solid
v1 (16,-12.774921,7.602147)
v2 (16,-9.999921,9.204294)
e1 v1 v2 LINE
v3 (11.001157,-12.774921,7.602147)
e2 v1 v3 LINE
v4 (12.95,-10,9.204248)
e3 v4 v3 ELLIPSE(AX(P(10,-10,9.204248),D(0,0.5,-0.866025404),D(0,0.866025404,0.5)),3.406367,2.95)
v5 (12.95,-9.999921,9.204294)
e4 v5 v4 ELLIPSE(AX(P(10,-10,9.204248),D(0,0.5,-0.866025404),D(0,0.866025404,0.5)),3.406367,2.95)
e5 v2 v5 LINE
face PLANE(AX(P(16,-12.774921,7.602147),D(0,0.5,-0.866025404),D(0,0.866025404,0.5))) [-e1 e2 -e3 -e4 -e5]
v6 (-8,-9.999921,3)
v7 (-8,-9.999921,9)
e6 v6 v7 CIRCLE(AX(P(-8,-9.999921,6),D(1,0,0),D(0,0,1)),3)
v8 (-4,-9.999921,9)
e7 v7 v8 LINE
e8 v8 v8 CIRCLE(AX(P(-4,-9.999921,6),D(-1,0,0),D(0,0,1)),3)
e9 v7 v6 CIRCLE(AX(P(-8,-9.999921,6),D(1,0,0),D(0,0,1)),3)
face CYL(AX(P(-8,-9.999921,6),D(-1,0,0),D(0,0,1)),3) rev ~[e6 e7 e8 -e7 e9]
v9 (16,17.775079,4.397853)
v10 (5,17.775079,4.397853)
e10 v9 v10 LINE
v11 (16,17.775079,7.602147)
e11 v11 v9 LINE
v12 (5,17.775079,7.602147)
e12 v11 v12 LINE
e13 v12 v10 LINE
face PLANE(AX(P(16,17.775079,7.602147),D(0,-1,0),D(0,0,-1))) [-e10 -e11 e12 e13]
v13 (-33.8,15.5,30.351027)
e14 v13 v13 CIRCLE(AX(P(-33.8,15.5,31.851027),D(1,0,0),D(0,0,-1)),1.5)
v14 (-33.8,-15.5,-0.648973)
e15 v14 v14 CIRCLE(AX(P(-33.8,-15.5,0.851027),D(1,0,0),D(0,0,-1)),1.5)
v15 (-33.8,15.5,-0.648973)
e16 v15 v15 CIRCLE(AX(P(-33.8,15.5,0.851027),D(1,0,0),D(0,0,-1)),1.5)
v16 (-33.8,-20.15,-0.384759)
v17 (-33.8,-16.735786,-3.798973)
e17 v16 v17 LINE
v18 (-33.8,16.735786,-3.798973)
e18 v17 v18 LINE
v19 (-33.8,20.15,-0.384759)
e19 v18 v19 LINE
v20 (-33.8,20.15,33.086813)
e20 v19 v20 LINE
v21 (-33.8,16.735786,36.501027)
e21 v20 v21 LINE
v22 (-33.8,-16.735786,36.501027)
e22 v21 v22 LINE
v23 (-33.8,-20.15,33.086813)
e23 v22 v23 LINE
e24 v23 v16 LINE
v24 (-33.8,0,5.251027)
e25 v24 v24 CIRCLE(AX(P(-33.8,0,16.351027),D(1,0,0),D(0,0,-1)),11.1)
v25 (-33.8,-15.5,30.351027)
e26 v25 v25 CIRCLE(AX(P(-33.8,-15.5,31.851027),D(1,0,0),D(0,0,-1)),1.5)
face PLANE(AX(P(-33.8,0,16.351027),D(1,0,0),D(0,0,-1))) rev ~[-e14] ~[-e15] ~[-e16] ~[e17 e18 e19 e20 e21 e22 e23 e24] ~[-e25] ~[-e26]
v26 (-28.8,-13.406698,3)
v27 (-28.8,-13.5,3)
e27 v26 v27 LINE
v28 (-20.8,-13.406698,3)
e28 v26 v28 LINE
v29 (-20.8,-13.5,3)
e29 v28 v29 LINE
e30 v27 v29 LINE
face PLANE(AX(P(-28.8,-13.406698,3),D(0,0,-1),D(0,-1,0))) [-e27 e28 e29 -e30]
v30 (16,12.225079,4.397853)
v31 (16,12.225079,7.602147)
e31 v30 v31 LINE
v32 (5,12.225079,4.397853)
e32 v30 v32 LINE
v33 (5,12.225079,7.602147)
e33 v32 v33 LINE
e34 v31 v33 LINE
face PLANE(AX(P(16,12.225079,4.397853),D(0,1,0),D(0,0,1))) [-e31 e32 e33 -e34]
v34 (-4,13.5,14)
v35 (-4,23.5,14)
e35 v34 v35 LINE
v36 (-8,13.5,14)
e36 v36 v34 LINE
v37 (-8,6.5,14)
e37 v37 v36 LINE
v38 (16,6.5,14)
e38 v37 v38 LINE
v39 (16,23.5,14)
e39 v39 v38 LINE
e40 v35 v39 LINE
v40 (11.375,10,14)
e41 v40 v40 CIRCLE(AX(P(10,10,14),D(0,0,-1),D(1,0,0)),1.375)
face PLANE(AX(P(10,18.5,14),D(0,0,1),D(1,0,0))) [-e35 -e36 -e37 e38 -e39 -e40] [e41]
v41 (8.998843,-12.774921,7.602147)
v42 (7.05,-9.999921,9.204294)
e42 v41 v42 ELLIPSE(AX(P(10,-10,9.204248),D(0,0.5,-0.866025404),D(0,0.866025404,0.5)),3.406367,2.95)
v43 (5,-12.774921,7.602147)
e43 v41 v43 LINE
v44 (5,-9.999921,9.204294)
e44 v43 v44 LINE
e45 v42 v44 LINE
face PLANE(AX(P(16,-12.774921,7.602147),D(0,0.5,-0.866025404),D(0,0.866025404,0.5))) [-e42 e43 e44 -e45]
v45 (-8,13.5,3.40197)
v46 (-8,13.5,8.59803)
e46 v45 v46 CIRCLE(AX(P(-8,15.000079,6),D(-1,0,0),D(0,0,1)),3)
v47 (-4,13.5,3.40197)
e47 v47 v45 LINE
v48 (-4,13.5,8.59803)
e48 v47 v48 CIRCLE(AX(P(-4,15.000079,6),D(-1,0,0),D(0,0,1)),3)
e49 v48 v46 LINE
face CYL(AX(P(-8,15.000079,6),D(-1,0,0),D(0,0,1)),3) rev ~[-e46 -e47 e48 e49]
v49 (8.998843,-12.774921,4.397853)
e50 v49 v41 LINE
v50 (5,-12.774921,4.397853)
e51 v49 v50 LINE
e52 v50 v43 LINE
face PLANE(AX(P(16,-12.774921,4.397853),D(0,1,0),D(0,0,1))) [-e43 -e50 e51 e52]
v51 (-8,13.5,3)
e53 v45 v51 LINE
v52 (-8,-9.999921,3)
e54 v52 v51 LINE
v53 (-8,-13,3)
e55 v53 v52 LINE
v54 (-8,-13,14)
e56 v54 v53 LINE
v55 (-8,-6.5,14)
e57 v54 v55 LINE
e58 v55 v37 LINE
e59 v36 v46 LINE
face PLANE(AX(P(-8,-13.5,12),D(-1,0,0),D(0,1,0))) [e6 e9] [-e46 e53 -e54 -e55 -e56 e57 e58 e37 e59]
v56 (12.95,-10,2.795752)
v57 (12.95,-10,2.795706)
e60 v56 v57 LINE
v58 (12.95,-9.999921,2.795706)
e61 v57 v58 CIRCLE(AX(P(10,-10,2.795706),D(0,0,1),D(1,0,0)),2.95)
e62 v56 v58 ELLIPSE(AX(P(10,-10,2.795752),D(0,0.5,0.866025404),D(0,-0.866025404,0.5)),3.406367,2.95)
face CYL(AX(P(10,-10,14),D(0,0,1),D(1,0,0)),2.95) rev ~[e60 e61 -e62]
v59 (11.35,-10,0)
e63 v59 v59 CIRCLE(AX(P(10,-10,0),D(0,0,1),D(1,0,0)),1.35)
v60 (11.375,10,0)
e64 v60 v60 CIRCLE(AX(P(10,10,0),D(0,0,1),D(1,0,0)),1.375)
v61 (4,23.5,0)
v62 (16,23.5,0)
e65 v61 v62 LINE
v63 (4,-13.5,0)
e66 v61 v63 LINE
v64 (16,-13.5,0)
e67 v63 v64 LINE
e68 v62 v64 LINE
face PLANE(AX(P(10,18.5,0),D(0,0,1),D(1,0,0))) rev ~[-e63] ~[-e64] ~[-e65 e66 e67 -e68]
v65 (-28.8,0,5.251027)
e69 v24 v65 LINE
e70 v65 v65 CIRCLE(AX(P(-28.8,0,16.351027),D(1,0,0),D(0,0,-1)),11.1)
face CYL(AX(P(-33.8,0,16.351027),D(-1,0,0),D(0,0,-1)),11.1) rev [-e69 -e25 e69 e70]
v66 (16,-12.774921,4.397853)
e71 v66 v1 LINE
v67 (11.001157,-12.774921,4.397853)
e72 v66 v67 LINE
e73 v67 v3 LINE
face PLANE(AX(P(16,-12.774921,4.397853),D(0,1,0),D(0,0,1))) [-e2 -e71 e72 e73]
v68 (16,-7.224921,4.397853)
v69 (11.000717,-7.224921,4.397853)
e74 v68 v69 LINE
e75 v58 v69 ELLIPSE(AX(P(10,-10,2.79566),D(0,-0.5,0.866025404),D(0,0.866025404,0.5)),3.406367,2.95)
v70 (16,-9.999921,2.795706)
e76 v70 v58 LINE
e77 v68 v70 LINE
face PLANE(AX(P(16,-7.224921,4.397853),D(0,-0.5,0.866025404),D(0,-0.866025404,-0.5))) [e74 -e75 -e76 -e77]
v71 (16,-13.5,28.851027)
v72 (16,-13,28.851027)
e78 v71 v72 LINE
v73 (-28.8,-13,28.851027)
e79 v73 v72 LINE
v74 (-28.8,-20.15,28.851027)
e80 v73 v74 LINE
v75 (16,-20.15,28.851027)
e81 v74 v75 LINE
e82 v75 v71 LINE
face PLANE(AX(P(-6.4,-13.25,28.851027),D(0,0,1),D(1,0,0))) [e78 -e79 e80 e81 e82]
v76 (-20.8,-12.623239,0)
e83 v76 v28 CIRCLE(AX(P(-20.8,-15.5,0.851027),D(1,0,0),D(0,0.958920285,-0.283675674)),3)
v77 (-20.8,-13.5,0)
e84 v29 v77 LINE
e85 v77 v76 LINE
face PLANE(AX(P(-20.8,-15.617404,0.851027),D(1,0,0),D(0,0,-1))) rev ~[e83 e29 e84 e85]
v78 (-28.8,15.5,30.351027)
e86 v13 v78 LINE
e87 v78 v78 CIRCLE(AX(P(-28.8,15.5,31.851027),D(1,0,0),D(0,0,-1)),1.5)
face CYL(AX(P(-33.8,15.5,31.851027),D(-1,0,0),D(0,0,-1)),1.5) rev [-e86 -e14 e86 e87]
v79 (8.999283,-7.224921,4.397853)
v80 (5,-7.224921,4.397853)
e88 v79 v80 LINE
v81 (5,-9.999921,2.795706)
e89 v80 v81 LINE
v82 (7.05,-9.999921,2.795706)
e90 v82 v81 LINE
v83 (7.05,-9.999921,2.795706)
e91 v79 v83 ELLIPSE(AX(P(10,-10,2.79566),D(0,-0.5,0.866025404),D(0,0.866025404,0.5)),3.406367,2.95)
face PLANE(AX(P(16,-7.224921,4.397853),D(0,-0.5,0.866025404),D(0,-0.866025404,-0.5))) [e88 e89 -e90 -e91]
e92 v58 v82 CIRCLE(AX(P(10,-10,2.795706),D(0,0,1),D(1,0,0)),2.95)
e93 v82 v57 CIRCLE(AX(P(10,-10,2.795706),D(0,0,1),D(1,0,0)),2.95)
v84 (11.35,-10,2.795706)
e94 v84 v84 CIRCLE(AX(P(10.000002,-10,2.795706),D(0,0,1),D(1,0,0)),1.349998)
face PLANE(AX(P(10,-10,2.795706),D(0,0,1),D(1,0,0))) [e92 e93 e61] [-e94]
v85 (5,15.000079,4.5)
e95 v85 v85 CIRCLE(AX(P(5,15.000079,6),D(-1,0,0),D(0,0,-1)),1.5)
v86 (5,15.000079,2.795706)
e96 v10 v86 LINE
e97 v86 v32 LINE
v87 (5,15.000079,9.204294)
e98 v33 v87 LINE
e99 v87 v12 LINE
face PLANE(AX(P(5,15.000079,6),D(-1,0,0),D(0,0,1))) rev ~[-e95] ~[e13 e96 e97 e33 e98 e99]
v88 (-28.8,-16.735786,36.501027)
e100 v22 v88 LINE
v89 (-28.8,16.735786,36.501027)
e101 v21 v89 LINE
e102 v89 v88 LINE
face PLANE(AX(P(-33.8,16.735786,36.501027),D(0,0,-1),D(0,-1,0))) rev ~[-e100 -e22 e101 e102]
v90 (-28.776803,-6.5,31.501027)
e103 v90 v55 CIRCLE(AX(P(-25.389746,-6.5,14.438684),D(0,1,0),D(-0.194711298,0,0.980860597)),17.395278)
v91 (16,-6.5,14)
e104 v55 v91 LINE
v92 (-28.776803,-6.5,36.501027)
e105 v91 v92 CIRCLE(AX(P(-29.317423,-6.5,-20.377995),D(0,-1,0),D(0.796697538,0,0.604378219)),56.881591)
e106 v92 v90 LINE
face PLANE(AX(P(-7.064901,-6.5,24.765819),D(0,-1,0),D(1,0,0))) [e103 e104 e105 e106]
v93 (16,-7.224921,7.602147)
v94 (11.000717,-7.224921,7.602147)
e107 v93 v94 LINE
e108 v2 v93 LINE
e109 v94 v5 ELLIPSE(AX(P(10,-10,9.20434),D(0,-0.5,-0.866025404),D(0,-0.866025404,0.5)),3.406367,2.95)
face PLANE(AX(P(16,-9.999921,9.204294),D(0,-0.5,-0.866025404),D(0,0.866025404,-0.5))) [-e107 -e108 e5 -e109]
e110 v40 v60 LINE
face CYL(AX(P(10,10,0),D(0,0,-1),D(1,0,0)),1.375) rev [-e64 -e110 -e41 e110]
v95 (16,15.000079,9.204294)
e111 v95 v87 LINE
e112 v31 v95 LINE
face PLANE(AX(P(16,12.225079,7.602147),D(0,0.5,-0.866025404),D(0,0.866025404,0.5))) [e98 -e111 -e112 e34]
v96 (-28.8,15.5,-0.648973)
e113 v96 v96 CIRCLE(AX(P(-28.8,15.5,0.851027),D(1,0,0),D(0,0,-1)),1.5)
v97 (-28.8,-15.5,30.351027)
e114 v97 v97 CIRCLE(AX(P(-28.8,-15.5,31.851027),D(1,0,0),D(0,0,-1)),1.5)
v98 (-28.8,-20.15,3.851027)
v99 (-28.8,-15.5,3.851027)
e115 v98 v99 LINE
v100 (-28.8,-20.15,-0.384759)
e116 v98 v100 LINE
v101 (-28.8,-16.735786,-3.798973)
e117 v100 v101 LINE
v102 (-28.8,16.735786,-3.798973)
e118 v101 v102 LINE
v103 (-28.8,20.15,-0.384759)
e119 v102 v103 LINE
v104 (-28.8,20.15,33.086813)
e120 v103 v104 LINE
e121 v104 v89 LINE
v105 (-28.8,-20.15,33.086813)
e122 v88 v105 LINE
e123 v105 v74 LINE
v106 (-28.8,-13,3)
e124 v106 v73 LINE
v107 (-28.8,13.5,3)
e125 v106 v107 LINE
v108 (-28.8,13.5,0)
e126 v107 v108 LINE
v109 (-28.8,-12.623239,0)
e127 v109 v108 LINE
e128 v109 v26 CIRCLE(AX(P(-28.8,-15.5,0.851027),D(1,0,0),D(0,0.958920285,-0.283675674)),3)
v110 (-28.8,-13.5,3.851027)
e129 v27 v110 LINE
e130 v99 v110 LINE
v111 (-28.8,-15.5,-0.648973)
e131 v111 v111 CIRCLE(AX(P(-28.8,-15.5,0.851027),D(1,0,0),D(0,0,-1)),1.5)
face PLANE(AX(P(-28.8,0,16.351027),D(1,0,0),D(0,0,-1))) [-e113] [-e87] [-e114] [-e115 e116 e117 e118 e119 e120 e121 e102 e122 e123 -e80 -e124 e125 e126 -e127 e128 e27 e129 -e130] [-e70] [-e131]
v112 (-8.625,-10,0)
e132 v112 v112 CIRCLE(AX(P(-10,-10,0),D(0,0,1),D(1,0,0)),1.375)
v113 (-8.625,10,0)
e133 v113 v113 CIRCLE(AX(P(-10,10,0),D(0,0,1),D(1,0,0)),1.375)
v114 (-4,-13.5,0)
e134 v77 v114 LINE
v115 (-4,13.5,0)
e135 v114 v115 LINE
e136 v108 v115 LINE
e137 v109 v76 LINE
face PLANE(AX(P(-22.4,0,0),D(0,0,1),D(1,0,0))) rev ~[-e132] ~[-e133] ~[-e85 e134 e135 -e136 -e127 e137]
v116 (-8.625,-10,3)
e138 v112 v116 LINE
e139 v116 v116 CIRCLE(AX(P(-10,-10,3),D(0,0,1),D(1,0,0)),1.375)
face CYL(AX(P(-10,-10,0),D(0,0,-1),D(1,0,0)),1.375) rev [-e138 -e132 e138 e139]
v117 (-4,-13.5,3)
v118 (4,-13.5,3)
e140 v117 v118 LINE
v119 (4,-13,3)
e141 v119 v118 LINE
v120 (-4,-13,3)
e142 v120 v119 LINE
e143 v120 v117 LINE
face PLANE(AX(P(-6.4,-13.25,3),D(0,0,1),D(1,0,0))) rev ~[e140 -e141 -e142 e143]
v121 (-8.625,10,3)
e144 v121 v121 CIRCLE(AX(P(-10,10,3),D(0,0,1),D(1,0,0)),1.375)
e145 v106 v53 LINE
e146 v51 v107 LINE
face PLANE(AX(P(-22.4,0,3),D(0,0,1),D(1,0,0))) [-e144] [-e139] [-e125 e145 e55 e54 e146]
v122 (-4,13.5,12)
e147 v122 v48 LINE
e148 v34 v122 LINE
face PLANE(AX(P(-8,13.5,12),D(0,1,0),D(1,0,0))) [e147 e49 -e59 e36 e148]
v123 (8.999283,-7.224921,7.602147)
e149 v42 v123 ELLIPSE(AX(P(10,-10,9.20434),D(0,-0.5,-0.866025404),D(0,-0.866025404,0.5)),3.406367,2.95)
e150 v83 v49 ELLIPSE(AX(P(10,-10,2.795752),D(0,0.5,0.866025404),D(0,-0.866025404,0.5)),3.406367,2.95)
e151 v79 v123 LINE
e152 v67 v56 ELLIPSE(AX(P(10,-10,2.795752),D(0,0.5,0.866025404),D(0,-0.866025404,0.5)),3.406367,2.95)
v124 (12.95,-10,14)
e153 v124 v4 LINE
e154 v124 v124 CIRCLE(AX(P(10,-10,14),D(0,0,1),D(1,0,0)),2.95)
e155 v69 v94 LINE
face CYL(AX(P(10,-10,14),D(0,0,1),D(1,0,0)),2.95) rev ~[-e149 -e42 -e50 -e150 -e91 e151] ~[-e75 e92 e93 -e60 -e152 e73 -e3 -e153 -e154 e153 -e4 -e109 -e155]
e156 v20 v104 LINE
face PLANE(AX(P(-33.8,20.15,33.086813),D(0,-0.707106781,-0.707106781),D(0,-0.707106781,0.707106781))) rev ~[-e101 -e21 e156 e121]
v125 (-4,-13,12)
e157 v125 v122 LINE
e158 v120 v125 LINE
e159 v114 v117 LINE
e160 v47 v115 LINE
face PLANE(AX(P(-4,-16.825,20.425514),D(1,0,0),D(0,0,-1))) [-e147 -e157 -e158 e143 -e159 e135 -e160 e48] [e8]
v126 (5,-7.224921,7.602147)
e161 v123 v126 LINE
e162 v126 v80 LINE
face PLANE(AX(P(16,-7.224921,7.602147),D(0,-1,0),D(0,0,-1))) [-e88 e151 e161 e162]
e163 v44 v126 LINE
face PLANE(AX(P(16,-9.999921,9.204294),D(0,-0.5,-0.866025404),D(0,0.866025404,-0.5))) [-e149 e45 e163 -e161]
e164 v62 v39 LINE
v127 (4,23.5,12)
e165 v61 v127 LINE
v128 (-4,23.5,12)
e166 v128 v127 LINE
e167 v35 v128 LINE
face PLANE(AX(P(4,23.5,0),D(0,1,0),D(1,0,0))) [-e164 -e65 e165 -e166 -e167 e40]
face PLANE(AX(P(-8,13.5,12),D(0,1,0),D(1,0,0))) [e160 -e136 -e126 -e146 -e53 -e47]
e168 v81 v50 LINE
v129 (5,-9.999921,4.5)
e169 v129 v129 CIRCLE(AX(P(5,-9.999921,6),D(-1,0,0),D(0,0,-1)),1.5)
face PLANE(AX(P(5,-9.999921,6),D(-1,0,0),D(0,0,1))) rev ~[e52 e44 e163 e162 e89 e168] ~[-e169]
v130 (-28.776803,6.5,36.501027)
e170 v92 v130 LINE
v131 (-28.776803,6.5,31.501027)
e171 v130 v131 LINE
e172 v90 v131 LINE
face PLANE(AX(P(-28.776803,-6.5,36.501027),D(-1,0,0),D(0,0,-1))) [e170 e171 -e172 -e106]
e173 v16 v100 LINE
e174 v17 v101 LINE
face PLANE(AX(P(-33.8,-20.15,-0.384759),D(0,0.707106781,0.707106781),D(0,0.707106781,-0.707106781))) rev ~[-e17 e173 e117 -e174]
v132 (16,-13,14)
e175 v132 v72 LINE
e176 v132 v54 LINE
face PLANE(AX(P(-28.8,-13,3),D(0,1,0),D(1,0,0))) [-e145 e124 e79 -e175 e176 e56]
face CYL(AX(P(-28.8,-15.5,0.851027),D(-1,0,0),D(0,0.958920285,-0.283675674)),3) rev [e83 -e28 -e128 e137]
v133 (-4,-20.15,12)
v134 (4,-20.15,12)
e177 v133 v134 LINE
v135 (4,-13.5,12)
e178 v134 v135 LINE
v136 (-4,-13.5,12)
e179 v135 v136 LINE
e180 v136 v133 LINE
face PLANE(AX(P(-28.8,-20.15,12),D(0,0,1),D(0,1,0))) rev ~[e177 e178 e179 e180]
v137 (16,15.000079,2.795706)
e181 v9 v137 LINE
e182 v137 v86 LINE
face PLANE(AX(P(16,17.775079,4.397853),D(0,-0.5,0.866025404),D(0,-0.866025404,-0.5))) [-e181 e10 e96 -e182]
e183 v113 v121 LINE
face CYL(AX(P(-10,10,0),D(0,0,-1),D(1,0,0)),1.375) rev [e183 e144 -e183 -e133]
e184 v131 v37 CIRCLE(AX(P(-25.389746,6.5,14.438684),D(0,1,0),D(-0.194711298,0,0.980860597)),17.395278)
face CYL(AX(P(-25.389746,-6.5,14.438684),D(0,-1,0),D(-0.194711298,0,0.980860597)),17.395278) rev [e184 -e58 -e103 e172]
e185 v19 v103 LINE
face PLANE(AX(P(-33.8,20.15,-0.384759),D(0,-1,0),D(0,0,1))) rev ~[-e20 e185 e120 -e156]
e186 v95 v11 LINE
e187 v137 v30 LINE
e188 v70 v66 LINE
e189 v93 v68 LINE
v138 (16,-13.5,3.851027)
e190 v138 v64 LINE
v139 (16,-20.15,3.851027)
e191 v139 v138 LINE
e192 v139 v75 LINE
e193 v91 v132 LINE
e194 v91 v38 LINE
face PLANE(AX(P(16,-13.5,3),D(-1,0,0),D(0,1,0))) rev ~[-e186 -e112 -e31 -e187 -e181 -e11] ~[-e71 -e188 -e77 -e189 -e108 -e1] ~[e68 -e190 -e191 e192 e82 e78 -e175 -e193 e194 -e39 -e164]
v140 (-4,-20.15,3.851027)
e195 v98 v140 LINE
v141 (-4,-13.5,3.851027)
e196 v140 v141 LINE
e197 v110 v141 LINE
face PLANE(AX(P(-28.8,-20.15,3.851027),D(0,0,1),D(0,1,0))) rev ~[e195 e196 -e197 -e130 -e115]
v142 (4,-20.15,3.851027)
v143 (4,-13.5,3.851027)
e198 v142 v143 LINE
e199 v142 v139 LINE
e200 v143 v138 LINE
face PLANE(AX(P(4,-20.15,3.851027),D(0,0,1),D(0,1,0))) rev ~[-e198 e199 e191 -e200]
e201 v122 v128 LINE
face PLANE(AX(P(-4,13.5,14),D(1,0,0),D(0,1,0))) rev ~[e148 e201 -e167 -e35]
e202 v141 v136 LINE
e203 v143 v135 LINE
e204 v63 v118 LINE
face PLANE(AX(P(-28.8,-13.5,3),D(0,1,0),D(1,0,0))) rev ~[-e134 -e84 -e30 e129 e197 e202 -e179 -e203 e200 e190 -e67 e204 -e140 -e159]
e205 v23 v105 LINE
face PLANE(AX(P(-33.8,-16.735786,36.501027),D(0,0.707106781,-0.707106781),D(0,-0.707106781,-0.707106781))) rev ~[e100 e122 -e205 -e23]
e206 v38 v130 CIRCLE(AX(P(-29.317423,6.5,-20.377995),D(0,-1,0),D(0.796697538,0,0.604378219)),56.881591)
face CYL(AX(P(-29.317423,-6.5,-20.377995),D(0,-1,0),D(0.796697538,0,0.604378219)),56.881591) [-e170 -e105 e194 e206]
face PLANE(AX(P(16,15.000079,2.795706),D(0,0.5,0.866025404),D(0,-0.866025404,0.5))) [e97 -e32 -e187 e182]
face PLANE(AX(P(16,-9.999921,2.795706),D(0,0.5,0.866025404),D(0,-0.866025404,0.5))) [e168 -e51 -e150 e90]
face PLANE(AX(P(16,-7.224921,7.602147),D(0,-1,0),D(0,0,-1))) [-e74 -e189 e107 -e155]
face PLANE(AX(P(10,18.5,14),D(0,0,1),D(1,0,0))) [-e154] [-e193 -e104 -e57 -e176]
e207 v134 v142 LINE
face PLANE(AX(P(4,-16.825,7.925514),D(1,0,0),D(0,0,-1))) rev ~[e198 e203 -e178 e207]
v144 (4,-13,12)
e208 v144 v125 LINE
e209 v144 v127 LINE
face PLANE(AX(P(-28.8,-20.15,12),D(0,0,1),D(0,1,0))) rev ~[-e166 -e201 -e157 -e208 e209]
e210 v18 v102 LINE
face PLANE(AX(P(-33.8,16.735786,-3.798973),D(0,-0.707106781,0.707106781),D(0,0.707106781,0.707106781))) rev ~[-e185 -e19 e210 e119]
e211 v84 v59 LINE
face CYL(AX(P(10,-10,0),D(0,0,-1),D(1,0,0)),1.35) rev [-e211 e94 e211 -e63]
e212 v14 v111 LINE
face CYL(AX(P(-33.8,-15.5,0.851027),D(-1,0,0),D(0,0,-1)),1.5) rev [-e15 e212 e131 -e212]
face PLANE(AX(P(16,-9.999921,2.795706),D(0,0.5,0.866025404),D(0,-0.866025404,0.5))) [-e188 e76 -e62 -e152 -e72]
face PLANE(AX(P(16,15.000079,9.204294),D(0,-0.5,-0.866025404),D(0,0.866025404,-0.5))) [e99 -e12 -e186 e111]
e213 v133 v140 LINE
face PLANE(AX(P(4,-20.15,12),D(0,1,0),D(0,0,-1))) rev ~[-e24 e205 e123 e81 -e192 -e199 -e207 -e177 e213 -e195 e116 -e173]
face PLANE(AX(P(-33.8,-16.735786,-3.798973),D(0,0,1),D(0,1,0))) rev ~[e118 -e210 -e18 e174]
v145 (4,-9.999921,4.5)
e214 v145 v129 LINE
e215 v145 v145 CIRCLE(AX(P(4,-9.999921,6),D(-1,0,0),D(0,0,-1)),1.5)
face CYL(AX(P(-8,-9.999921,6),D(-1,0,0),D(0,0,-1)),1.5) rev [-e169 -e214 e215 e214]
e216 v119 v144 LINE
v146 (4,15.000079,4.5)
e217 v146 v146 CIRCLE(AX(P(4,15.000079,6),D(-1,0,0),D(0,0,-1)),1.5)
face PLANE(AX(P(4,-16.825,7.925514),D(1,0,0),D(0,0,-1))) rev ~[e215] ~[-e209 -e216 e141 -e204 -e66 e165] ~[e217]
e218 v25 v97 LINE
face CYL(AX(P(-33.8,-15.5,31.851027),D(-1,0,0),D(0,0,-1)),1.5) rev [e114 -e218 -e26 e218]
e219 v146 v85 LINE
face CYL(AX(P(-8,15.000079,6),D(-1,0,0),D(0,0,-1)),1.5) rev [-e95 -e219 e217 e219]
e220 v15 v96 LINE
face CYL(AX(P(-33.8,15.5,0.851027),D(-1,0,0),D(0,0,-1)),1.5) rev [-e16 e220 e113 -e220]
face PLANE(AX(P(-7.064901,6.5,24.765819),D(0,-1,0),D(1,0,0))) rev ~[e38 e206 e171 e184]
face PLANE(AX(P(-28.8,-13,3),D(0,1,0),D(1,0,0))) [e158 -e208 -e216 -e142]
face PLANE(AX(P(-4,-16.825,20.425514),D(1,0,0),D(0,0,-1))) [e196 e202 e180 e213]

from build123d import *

# Parameters (mm, degrees)
SKETCH1_W             = 12
SKETCH1_H             = 27
SKETCH1_R             = 1.375
BOSS_EXTRUDE1_DEPTH   = 3
SKETCH1_R_2           = 1.35
BOSS_EXTRUDE1_2_DEPTH = 3
SKETCH2_R             = 1.5
SKETCH2_R_2           = 11.1
BOSS_EXTRUDE2_DEPTH   = 5
SKETCH4_W             = 12.8
SKETCH4_H             = 27
BOSS_EXTRUDE3_DEPTH   = 3
SKETCH1_3_W           = 12
SKETCH1_3_H           = 27
SKETCH1_3_R           = 1.35
SKETCH1_3_R_2         = 1.375
BOSS_EXTRUDE4_DEPTH   = 12
SKETCH5_W             = 4
SKETCH5_H             = 27
BOSS_EXTRUDE5_DEPTH   = 9
SKETCH6_W             = 24
SKETCH6_H             = 27
BOSS_EXTRUDE6_DEPTH   = 2
SKETCH1_4_R           = 1.375
SKETCH1_4_R_2         = 1.35
CUT_EXTRUDE3_DEPTH    = 37.501027023
SKETCH10_W            = 8
SKETCH10_H            = 10
BOSS_EXTRUDE7_DEPTH   = 2
BOSS_EXTRUDE8_START   = -14
SKETCH10_4_W          = 12
SKETCH10_4_H          = 10
BOSS_EXTRUDE8_DEPTH   = 14
CUT_EXTRUDE4_START    = -12
SKETCH8_R             = 1.5
CUT_EXTRUDE4_DEPTH    = 24
CUT_EXTRUDE5_REACH    = 26
SKETCH11_R            = 3
BOSS_EXTRUDE9_START   = -7
BOSS_EXTRUDE9_DEPTH   = 13
SKETCH13_W            = 16.851027023
SKETCH13_H            = 6.65
SKETCH13_W_2          = 8.148972977
BOSS_EXTRUDE14_DEPTH  = 24.8
SKETCH13_6_W          = 16.851027023
SKETCH13_6_H          = 6.65
BOSS_EXTRUDE15_DEPTH  = 44.8
BOSS_EXTRUDE16_START  = 32.8
SKETCH13_7_W          = 8.148972977
SKETCH13_7_H          = 6.65
BOSS_EXTRUDE16_DEPTH  = 12
SKETCH16_W            = 44.8
SKETCH16_H            = 0.5
BOSS_EXTRUDE18_DEPTH  = 25.851027
SKETCH14_R            = 1.5
CUT_EXTRUDE8_DEPTH    = 8
CUT_EXTRUDE9_DEPTH    = 11
SKETCH18_R            = 2.95
CUT_EXTRUDE14_DEPTH   = 11.204294


with BuildPart() as part:
    # Sketch1 → Boss-Extrude1 (new body)
    with BuildSketch(Plane.XY):
        with Locations((-10, 0)):
            Rectangle(SKETCH1_W, SKETCH1_H)
        with Locations((-10, -10)):
            Circle(SKETCH1_R, mode=Mode.SUBTRACT)
        with Locations((-10, 10)):
            Circle(SKETCH1_R, mode=Mode.SUBTRACT)
    extrude(amount=BOSS_EXTRUDE1_DEPTH)



with BuildPart() as body_2:
    # Sketch1 → Boss-Extrude1 2 (new body)
    with BuildSketch(Plane.XY):
        with Locations((10, 0)):
            Rectangle(SKETCH1_W, SKETCH1_H)
        with Locations((10, -10)):
            Circle(SKETCH1_R_2, mode=Mode.SUBTRACT)
        with Locations((10, 10)):
            Circle(SKETCH1_R, mode=Mode.SUBTRACT)
    extrude(amount=BOSS_EXTRUDE1_2_DEPTH)

    # Sketch1<3> → Boss-Extrude4 (add)
    with BuildSketch(Plane.XY):
        with Locations((10, 0)):
            Rectangle(SKETCH1_3_W, SKETCH1_3_H)
        with Locations((10, -10)):
            Circle(SKETCH1_3_R, mode=Mode.SUBTRACT)
        with Locations((10, 10)):
            Circle(SKETCH1_3_R_2, mode=Mode.SUBTRACT)
    extrude(amount=BOSS_EXTRUDE4_DEPTH)


with BuildPart() as body_3:
    # Sketch2 → Boss-Extrude2 (new body)
    with BuildSketch(Plane(origin=(-33.8, 0, 0), x_dir=(0, 0, -1), z_dir=(1, 0, 0))):
        Polygon((0.384759414, -20.15), (3.798972977, -16.735786438), (3.798972977, 16.735786438), (0.384759414, 20.15), (-33.086813461, 20.15), (-36.501027023, 16.735786438), (-36.501027023, -16.735786438), (-33.086813461, -20.15), align=None)
        with Locations((-31.851027023, -15.5)):
            Circle(SKETCH2_R, mode=Mode.SUBTRACT)
        with Locations((-0.851027023, -15.5)):
            Circle(SKETCH2_R, mode=Mode.SUBTRACT)
        with Locations((-0.851027023, 15.5)):
            Circle(SKETCH2_R, mode=Mode.SUBTRACT)
        with Locations((-31.851027023, 15.5)):
            Circle(SKETCH2_R, mode=Mode.SUBTRACT)
        with Locations((-16.351027023, 0)):
            Circle(SKETCH2_R_2, mode=Mode.SUBTRACT)
    extrude(amount=BOSS_EXTRUDE2_DEPTH)


with BuildPart() as part_1:
    add(part.part)

    add(body_3.part)  # Boss-Extrude3 merges body 3
    # Sketch4 → Boss-Extrude3 (add)
    with BuildSketch(Plane.XY.offset(3)):
        with Locations((-22.4, 0)):
            Rectangle(SKETCH4_W, SKETCH4_H)
    extrude(amount=-BOSS_EXTRUDE3_DEPTH)

    # Sketch5 → Boss-Extrude5 (add)
    with BuildSketch(Plane.XY.offset(3)):
        with Locations((-6, 0)):
            Rectangle(SKETCH5_W, SKETCH5_H)
    extrude(amount=BOSS_EXTRUDE5_DEPTH)


    add(body_2.part)  # Boss-Extrude6 merges body 2
    # Sketch6 → Boss-Extrude6 (add)
    with BuildSketch(Plane.XY.offset(12)):
        with Locations((4, 0)):
            Rectangle(SKETCH6_W, SKETCH6_H)
    extrude(amount=BOSS_EXTRUDE6_DEPTH)

    # Sketch1<4> → Cut-Extrude3 (cut, through all)
    with BuildSketch(Plane.XY):
        with Locations((10, 10)):
            Circle(SKETCH1_4_R)
        with Locations((10, -10)):
            Circle(SKETCH1_4_R_2)
    extrude(amount=CUT_EXTRUDE3_DEPTH, mode=Mode.SUBTRACT)

    # Sketch10 → Boss-Extrude7 (add)
    with BuildSketch(Plane.XY.offset(14)):
        with Locations((0, 18.5)):
            Rectangle(SKETCH10_W, SKETCH10_H)
    extrude(amount=-BOSS_EXTRUDE7_DEPTH)

    # Sketch10<4> → Boss-Extrude8 (add)
    with BuildSketch(Plane.XY.offset(14).offset(BOSS_EXTRUDE8_START)):
        with Locations((10, 18.5)):
            Rectangle(SKETCH10_4_W, SKETCH10_4_H)
    extrude(amount=BOSS_EXTRUDE8_DEPTH)

    # Sketch8 → Cut-Extrude4 (cut)
    with BuildSketch(Plane(origin=(4, 0, 0), x_dir=(0, 0, -1), z_dir=(1, 0, 0)).offset(CUT_EXTRUDE4_START)):
        with Locations((-6, 15.00007933)):
            Circle(SKETCH8_R)
        with Locations((-6, -9.99992067)):
            Circle(SKETCH8_R)
    extrude(amount=CUT_EXTRUDE4_DEPTH, mode=Mode.SUBTRACT)

    # Sketch11 → Cut-Extrude5 (cut, up to next)
    with BuildSketch(Plane.ZY.offset(8), mode=Mode.PRIVATE) as cut_extrude5_sk1:
        with Locations((6, -9.99992067)):
            Circle(SKETCH11_R)
    cut_extrude5_tool1 = extrude(cut_extrude5_sk1.sketch, amount=-CUT_EXTRUDE5_REACH, mode=Mode.PRIVATE) & part_1.part
    add(cut_extrude5_tool1.solids().sort_by_distance((-8, -9.999921, 6))[0], mode=Mode.SUBTRACT)
    # Sketch11 → Cut-Extrude5 (cut, up to next)
    with BuildSketch(Plane.ZY.offset(8), mode=Mode.PRIVATE) as cut_extrude5_sk2:
        with Locations((6, 15.00007933)):
            Circle(SKETCH11_R)
    cut_extrude5_tool2 = extrude(cut_extrude5_sk2.sketch, amount=-CUT_EXTRUDE5_REACH, mode=Mode.PRIVATE) & part_1.part
    add(cut_extrude5_tool2.solids().sort_by_distance((-8, 15.000079, 6))[0], mode=Mode.SUBTRACT)

    # Sketch12 → Boss-Extrude9 (add)
    with BuildSketch(Plane.XZ.offset(13.5).offset(BOSS_EXTRUDE9_START)):
        with BuildLine():
            Line((-28.776802955, 36.501027023), (-28.776802955, 31.501027023))
            ThreePointArc((-28.776802955, 31.501027023), (-14.183037571, 27.743021501), (-8, 14))
            Line((-8, 14), (16, 14))
            ThreePointArc((16, 14), (-3.776982896, 30.447208539), (-28.776802955, 36.501027023))
        make_face()
    extrude(amount=-BOSS_EXTRUDE9_DEPTH)



with BuildPart() as body_2_2:
    # Sketch13 → Boss-Extrude14 (new body)
    with BuildSketch(Plane(origin=(-28.8, 0, 0), x_dir=(0, 0, -1), z_dir=(1, 0, 0))):
        with Locations((-20.425513512, -16.825)):
            Rectangle(SKETCH13_W, SKETCH13_H)
        with Locations((-7.925513512, -16.825)):
            Rectangle(SKETCH13_W_2, SKETCH13_H)
    extrude(amount=BOSS_EXTRUDE14_DEPTH)


with BuildPart() as part_2:
    add(part_1.part)

    add(body_2_2.part)  # Boss-Extrude15 merges body 2 2
    # Sketch13<6> → Boss-Extrude15 (add)
    with BuildSketch(Plane(origin=(-28.8, 0, 0), x_dir=(0, 0, -1), z_dir=(1, 0, 0))):
        with Locations((-20.425513512, -16.825)):
            Rectangle(SKETCH13_6_W, SKETCH13_6_H)
    extrude(amount=BOSS_EXTRUDE15_DEPTH)

    # Sketch13<7> → Boss-Extrude16 (add)
    with BuildSketch(Plane(origin=(-28.8, 0, 0), x_dir=(0, 0, -1), z_dir=(1, 0, 0)).offset(BOSS_EXTRUDE16_START)):
        with Locations((-7.925513512, -16.825)):
            Rectangle(SKETCH13_7_W, SKETCH13_7_H)
    extrude(amount=BOSS_EXTRUDE16_DEPTH)

    # Sketch16 → Boss-Extrude18 (add)
    with BuildSketch(Plane.XY.offset(3)):
        with Locations((-6.4, -13.25)):
            Rectangle(SKETCH16_W, SKETCH16_H)
    extrude(amount=BOSS_EXTRUDE18_DEPTH)

    # Sketch14 → Cut-Extrude8 (cut)
    with BuildSketch(Plane(origin=(-28.8, 0, 0), x_dir=(0, 0, -1), z_dir=(1, 0, 0))):
        with BuildLine():
            ThreePointArc((-3.087095001, -13.5), (-3.6535441, -14.429533731), (-3.851027023, -15.5))
            ThreePointArc((-3.851027023, -15.5), (-0.851027023, -18.5), (2.148972977, -15.5))
            ThreePointArc((2.148972977, -15.5), (1.951490054, -14.429533731), (1.385040954, -13.5))
            Line((1.385040954, -13.5), (0, -13.5))
            Line((0, -13.5), (-3, -13.5))
            Line((-3, -13.5), (-3.087095001, -13.5))
        make_face()
        with Locations((-0.851027023, -15.5)):
            Circle(SKETCH14_R, mode=Mode.SUBTRACT)
        with BuildLine():
            Line((0, -13.5), (1.385040954, -13.5))
            ThreePointArc((1.385040954, -13.5), (0.753565225, -12.965185664), (0, -12.623239147))
            Line((0, -12.623239147), (0, -13.5))
        make_face()
        with BuildLine():
            Line((-3, -13.40669755), (-3, -13.5))
            Line((-3, -13.5), (0, -13.5))
            Line((0, -13.5), (0, -12.623239147))
            ThreePointArc((0, -12.623239147), (-1.609062439, -12.59734909), (-3, -13.40669755))
        make_face()
    extrude(amount=CUT_EXTRUDE8_DEPTH, mode=Mode.SUBTRACT)

    # Sketch17 → Cut-Extrude9 (cut)
    with BuildSketch(Plane(origin=(16, 0, 0), x_dir=(0, 0, -1), z_dir=(1, 0, 0))):
        Polygon((-9.204293994, -9.99992067), (-7.602146997, -7.22492067), (-4.397853003, -7.22492067), (-2.795706006, -9.99992067), (-4.397853003, -12.77492067), (-7.602146997, -12.77492067), align=None)
        Polygon((-9.204293994, 15.00007933), (-7.602146997, 17.77507933), (-4.397853003, 17.77507933), (-2.795706006, 15.00007933), (-4.397853003, 12.22507933), (-7.602146997, 12.22507933), align=None)
    extrude(amount=-CUT_EXTRUDE9_DEPTH, mode=Mode.SUBTRACT)

    # Sketch18 → Cut-Extrude14 (cut)
    with BuildSketch(Plane.XY.offset(14)):
        with Locations((10, -10)):
            Circle(SKETCH18_R)
    extrude(amount=-CUT_EXTRUDE14_DEPTH, mode=Mode.SUBTRACT)


solid = part_2.part
